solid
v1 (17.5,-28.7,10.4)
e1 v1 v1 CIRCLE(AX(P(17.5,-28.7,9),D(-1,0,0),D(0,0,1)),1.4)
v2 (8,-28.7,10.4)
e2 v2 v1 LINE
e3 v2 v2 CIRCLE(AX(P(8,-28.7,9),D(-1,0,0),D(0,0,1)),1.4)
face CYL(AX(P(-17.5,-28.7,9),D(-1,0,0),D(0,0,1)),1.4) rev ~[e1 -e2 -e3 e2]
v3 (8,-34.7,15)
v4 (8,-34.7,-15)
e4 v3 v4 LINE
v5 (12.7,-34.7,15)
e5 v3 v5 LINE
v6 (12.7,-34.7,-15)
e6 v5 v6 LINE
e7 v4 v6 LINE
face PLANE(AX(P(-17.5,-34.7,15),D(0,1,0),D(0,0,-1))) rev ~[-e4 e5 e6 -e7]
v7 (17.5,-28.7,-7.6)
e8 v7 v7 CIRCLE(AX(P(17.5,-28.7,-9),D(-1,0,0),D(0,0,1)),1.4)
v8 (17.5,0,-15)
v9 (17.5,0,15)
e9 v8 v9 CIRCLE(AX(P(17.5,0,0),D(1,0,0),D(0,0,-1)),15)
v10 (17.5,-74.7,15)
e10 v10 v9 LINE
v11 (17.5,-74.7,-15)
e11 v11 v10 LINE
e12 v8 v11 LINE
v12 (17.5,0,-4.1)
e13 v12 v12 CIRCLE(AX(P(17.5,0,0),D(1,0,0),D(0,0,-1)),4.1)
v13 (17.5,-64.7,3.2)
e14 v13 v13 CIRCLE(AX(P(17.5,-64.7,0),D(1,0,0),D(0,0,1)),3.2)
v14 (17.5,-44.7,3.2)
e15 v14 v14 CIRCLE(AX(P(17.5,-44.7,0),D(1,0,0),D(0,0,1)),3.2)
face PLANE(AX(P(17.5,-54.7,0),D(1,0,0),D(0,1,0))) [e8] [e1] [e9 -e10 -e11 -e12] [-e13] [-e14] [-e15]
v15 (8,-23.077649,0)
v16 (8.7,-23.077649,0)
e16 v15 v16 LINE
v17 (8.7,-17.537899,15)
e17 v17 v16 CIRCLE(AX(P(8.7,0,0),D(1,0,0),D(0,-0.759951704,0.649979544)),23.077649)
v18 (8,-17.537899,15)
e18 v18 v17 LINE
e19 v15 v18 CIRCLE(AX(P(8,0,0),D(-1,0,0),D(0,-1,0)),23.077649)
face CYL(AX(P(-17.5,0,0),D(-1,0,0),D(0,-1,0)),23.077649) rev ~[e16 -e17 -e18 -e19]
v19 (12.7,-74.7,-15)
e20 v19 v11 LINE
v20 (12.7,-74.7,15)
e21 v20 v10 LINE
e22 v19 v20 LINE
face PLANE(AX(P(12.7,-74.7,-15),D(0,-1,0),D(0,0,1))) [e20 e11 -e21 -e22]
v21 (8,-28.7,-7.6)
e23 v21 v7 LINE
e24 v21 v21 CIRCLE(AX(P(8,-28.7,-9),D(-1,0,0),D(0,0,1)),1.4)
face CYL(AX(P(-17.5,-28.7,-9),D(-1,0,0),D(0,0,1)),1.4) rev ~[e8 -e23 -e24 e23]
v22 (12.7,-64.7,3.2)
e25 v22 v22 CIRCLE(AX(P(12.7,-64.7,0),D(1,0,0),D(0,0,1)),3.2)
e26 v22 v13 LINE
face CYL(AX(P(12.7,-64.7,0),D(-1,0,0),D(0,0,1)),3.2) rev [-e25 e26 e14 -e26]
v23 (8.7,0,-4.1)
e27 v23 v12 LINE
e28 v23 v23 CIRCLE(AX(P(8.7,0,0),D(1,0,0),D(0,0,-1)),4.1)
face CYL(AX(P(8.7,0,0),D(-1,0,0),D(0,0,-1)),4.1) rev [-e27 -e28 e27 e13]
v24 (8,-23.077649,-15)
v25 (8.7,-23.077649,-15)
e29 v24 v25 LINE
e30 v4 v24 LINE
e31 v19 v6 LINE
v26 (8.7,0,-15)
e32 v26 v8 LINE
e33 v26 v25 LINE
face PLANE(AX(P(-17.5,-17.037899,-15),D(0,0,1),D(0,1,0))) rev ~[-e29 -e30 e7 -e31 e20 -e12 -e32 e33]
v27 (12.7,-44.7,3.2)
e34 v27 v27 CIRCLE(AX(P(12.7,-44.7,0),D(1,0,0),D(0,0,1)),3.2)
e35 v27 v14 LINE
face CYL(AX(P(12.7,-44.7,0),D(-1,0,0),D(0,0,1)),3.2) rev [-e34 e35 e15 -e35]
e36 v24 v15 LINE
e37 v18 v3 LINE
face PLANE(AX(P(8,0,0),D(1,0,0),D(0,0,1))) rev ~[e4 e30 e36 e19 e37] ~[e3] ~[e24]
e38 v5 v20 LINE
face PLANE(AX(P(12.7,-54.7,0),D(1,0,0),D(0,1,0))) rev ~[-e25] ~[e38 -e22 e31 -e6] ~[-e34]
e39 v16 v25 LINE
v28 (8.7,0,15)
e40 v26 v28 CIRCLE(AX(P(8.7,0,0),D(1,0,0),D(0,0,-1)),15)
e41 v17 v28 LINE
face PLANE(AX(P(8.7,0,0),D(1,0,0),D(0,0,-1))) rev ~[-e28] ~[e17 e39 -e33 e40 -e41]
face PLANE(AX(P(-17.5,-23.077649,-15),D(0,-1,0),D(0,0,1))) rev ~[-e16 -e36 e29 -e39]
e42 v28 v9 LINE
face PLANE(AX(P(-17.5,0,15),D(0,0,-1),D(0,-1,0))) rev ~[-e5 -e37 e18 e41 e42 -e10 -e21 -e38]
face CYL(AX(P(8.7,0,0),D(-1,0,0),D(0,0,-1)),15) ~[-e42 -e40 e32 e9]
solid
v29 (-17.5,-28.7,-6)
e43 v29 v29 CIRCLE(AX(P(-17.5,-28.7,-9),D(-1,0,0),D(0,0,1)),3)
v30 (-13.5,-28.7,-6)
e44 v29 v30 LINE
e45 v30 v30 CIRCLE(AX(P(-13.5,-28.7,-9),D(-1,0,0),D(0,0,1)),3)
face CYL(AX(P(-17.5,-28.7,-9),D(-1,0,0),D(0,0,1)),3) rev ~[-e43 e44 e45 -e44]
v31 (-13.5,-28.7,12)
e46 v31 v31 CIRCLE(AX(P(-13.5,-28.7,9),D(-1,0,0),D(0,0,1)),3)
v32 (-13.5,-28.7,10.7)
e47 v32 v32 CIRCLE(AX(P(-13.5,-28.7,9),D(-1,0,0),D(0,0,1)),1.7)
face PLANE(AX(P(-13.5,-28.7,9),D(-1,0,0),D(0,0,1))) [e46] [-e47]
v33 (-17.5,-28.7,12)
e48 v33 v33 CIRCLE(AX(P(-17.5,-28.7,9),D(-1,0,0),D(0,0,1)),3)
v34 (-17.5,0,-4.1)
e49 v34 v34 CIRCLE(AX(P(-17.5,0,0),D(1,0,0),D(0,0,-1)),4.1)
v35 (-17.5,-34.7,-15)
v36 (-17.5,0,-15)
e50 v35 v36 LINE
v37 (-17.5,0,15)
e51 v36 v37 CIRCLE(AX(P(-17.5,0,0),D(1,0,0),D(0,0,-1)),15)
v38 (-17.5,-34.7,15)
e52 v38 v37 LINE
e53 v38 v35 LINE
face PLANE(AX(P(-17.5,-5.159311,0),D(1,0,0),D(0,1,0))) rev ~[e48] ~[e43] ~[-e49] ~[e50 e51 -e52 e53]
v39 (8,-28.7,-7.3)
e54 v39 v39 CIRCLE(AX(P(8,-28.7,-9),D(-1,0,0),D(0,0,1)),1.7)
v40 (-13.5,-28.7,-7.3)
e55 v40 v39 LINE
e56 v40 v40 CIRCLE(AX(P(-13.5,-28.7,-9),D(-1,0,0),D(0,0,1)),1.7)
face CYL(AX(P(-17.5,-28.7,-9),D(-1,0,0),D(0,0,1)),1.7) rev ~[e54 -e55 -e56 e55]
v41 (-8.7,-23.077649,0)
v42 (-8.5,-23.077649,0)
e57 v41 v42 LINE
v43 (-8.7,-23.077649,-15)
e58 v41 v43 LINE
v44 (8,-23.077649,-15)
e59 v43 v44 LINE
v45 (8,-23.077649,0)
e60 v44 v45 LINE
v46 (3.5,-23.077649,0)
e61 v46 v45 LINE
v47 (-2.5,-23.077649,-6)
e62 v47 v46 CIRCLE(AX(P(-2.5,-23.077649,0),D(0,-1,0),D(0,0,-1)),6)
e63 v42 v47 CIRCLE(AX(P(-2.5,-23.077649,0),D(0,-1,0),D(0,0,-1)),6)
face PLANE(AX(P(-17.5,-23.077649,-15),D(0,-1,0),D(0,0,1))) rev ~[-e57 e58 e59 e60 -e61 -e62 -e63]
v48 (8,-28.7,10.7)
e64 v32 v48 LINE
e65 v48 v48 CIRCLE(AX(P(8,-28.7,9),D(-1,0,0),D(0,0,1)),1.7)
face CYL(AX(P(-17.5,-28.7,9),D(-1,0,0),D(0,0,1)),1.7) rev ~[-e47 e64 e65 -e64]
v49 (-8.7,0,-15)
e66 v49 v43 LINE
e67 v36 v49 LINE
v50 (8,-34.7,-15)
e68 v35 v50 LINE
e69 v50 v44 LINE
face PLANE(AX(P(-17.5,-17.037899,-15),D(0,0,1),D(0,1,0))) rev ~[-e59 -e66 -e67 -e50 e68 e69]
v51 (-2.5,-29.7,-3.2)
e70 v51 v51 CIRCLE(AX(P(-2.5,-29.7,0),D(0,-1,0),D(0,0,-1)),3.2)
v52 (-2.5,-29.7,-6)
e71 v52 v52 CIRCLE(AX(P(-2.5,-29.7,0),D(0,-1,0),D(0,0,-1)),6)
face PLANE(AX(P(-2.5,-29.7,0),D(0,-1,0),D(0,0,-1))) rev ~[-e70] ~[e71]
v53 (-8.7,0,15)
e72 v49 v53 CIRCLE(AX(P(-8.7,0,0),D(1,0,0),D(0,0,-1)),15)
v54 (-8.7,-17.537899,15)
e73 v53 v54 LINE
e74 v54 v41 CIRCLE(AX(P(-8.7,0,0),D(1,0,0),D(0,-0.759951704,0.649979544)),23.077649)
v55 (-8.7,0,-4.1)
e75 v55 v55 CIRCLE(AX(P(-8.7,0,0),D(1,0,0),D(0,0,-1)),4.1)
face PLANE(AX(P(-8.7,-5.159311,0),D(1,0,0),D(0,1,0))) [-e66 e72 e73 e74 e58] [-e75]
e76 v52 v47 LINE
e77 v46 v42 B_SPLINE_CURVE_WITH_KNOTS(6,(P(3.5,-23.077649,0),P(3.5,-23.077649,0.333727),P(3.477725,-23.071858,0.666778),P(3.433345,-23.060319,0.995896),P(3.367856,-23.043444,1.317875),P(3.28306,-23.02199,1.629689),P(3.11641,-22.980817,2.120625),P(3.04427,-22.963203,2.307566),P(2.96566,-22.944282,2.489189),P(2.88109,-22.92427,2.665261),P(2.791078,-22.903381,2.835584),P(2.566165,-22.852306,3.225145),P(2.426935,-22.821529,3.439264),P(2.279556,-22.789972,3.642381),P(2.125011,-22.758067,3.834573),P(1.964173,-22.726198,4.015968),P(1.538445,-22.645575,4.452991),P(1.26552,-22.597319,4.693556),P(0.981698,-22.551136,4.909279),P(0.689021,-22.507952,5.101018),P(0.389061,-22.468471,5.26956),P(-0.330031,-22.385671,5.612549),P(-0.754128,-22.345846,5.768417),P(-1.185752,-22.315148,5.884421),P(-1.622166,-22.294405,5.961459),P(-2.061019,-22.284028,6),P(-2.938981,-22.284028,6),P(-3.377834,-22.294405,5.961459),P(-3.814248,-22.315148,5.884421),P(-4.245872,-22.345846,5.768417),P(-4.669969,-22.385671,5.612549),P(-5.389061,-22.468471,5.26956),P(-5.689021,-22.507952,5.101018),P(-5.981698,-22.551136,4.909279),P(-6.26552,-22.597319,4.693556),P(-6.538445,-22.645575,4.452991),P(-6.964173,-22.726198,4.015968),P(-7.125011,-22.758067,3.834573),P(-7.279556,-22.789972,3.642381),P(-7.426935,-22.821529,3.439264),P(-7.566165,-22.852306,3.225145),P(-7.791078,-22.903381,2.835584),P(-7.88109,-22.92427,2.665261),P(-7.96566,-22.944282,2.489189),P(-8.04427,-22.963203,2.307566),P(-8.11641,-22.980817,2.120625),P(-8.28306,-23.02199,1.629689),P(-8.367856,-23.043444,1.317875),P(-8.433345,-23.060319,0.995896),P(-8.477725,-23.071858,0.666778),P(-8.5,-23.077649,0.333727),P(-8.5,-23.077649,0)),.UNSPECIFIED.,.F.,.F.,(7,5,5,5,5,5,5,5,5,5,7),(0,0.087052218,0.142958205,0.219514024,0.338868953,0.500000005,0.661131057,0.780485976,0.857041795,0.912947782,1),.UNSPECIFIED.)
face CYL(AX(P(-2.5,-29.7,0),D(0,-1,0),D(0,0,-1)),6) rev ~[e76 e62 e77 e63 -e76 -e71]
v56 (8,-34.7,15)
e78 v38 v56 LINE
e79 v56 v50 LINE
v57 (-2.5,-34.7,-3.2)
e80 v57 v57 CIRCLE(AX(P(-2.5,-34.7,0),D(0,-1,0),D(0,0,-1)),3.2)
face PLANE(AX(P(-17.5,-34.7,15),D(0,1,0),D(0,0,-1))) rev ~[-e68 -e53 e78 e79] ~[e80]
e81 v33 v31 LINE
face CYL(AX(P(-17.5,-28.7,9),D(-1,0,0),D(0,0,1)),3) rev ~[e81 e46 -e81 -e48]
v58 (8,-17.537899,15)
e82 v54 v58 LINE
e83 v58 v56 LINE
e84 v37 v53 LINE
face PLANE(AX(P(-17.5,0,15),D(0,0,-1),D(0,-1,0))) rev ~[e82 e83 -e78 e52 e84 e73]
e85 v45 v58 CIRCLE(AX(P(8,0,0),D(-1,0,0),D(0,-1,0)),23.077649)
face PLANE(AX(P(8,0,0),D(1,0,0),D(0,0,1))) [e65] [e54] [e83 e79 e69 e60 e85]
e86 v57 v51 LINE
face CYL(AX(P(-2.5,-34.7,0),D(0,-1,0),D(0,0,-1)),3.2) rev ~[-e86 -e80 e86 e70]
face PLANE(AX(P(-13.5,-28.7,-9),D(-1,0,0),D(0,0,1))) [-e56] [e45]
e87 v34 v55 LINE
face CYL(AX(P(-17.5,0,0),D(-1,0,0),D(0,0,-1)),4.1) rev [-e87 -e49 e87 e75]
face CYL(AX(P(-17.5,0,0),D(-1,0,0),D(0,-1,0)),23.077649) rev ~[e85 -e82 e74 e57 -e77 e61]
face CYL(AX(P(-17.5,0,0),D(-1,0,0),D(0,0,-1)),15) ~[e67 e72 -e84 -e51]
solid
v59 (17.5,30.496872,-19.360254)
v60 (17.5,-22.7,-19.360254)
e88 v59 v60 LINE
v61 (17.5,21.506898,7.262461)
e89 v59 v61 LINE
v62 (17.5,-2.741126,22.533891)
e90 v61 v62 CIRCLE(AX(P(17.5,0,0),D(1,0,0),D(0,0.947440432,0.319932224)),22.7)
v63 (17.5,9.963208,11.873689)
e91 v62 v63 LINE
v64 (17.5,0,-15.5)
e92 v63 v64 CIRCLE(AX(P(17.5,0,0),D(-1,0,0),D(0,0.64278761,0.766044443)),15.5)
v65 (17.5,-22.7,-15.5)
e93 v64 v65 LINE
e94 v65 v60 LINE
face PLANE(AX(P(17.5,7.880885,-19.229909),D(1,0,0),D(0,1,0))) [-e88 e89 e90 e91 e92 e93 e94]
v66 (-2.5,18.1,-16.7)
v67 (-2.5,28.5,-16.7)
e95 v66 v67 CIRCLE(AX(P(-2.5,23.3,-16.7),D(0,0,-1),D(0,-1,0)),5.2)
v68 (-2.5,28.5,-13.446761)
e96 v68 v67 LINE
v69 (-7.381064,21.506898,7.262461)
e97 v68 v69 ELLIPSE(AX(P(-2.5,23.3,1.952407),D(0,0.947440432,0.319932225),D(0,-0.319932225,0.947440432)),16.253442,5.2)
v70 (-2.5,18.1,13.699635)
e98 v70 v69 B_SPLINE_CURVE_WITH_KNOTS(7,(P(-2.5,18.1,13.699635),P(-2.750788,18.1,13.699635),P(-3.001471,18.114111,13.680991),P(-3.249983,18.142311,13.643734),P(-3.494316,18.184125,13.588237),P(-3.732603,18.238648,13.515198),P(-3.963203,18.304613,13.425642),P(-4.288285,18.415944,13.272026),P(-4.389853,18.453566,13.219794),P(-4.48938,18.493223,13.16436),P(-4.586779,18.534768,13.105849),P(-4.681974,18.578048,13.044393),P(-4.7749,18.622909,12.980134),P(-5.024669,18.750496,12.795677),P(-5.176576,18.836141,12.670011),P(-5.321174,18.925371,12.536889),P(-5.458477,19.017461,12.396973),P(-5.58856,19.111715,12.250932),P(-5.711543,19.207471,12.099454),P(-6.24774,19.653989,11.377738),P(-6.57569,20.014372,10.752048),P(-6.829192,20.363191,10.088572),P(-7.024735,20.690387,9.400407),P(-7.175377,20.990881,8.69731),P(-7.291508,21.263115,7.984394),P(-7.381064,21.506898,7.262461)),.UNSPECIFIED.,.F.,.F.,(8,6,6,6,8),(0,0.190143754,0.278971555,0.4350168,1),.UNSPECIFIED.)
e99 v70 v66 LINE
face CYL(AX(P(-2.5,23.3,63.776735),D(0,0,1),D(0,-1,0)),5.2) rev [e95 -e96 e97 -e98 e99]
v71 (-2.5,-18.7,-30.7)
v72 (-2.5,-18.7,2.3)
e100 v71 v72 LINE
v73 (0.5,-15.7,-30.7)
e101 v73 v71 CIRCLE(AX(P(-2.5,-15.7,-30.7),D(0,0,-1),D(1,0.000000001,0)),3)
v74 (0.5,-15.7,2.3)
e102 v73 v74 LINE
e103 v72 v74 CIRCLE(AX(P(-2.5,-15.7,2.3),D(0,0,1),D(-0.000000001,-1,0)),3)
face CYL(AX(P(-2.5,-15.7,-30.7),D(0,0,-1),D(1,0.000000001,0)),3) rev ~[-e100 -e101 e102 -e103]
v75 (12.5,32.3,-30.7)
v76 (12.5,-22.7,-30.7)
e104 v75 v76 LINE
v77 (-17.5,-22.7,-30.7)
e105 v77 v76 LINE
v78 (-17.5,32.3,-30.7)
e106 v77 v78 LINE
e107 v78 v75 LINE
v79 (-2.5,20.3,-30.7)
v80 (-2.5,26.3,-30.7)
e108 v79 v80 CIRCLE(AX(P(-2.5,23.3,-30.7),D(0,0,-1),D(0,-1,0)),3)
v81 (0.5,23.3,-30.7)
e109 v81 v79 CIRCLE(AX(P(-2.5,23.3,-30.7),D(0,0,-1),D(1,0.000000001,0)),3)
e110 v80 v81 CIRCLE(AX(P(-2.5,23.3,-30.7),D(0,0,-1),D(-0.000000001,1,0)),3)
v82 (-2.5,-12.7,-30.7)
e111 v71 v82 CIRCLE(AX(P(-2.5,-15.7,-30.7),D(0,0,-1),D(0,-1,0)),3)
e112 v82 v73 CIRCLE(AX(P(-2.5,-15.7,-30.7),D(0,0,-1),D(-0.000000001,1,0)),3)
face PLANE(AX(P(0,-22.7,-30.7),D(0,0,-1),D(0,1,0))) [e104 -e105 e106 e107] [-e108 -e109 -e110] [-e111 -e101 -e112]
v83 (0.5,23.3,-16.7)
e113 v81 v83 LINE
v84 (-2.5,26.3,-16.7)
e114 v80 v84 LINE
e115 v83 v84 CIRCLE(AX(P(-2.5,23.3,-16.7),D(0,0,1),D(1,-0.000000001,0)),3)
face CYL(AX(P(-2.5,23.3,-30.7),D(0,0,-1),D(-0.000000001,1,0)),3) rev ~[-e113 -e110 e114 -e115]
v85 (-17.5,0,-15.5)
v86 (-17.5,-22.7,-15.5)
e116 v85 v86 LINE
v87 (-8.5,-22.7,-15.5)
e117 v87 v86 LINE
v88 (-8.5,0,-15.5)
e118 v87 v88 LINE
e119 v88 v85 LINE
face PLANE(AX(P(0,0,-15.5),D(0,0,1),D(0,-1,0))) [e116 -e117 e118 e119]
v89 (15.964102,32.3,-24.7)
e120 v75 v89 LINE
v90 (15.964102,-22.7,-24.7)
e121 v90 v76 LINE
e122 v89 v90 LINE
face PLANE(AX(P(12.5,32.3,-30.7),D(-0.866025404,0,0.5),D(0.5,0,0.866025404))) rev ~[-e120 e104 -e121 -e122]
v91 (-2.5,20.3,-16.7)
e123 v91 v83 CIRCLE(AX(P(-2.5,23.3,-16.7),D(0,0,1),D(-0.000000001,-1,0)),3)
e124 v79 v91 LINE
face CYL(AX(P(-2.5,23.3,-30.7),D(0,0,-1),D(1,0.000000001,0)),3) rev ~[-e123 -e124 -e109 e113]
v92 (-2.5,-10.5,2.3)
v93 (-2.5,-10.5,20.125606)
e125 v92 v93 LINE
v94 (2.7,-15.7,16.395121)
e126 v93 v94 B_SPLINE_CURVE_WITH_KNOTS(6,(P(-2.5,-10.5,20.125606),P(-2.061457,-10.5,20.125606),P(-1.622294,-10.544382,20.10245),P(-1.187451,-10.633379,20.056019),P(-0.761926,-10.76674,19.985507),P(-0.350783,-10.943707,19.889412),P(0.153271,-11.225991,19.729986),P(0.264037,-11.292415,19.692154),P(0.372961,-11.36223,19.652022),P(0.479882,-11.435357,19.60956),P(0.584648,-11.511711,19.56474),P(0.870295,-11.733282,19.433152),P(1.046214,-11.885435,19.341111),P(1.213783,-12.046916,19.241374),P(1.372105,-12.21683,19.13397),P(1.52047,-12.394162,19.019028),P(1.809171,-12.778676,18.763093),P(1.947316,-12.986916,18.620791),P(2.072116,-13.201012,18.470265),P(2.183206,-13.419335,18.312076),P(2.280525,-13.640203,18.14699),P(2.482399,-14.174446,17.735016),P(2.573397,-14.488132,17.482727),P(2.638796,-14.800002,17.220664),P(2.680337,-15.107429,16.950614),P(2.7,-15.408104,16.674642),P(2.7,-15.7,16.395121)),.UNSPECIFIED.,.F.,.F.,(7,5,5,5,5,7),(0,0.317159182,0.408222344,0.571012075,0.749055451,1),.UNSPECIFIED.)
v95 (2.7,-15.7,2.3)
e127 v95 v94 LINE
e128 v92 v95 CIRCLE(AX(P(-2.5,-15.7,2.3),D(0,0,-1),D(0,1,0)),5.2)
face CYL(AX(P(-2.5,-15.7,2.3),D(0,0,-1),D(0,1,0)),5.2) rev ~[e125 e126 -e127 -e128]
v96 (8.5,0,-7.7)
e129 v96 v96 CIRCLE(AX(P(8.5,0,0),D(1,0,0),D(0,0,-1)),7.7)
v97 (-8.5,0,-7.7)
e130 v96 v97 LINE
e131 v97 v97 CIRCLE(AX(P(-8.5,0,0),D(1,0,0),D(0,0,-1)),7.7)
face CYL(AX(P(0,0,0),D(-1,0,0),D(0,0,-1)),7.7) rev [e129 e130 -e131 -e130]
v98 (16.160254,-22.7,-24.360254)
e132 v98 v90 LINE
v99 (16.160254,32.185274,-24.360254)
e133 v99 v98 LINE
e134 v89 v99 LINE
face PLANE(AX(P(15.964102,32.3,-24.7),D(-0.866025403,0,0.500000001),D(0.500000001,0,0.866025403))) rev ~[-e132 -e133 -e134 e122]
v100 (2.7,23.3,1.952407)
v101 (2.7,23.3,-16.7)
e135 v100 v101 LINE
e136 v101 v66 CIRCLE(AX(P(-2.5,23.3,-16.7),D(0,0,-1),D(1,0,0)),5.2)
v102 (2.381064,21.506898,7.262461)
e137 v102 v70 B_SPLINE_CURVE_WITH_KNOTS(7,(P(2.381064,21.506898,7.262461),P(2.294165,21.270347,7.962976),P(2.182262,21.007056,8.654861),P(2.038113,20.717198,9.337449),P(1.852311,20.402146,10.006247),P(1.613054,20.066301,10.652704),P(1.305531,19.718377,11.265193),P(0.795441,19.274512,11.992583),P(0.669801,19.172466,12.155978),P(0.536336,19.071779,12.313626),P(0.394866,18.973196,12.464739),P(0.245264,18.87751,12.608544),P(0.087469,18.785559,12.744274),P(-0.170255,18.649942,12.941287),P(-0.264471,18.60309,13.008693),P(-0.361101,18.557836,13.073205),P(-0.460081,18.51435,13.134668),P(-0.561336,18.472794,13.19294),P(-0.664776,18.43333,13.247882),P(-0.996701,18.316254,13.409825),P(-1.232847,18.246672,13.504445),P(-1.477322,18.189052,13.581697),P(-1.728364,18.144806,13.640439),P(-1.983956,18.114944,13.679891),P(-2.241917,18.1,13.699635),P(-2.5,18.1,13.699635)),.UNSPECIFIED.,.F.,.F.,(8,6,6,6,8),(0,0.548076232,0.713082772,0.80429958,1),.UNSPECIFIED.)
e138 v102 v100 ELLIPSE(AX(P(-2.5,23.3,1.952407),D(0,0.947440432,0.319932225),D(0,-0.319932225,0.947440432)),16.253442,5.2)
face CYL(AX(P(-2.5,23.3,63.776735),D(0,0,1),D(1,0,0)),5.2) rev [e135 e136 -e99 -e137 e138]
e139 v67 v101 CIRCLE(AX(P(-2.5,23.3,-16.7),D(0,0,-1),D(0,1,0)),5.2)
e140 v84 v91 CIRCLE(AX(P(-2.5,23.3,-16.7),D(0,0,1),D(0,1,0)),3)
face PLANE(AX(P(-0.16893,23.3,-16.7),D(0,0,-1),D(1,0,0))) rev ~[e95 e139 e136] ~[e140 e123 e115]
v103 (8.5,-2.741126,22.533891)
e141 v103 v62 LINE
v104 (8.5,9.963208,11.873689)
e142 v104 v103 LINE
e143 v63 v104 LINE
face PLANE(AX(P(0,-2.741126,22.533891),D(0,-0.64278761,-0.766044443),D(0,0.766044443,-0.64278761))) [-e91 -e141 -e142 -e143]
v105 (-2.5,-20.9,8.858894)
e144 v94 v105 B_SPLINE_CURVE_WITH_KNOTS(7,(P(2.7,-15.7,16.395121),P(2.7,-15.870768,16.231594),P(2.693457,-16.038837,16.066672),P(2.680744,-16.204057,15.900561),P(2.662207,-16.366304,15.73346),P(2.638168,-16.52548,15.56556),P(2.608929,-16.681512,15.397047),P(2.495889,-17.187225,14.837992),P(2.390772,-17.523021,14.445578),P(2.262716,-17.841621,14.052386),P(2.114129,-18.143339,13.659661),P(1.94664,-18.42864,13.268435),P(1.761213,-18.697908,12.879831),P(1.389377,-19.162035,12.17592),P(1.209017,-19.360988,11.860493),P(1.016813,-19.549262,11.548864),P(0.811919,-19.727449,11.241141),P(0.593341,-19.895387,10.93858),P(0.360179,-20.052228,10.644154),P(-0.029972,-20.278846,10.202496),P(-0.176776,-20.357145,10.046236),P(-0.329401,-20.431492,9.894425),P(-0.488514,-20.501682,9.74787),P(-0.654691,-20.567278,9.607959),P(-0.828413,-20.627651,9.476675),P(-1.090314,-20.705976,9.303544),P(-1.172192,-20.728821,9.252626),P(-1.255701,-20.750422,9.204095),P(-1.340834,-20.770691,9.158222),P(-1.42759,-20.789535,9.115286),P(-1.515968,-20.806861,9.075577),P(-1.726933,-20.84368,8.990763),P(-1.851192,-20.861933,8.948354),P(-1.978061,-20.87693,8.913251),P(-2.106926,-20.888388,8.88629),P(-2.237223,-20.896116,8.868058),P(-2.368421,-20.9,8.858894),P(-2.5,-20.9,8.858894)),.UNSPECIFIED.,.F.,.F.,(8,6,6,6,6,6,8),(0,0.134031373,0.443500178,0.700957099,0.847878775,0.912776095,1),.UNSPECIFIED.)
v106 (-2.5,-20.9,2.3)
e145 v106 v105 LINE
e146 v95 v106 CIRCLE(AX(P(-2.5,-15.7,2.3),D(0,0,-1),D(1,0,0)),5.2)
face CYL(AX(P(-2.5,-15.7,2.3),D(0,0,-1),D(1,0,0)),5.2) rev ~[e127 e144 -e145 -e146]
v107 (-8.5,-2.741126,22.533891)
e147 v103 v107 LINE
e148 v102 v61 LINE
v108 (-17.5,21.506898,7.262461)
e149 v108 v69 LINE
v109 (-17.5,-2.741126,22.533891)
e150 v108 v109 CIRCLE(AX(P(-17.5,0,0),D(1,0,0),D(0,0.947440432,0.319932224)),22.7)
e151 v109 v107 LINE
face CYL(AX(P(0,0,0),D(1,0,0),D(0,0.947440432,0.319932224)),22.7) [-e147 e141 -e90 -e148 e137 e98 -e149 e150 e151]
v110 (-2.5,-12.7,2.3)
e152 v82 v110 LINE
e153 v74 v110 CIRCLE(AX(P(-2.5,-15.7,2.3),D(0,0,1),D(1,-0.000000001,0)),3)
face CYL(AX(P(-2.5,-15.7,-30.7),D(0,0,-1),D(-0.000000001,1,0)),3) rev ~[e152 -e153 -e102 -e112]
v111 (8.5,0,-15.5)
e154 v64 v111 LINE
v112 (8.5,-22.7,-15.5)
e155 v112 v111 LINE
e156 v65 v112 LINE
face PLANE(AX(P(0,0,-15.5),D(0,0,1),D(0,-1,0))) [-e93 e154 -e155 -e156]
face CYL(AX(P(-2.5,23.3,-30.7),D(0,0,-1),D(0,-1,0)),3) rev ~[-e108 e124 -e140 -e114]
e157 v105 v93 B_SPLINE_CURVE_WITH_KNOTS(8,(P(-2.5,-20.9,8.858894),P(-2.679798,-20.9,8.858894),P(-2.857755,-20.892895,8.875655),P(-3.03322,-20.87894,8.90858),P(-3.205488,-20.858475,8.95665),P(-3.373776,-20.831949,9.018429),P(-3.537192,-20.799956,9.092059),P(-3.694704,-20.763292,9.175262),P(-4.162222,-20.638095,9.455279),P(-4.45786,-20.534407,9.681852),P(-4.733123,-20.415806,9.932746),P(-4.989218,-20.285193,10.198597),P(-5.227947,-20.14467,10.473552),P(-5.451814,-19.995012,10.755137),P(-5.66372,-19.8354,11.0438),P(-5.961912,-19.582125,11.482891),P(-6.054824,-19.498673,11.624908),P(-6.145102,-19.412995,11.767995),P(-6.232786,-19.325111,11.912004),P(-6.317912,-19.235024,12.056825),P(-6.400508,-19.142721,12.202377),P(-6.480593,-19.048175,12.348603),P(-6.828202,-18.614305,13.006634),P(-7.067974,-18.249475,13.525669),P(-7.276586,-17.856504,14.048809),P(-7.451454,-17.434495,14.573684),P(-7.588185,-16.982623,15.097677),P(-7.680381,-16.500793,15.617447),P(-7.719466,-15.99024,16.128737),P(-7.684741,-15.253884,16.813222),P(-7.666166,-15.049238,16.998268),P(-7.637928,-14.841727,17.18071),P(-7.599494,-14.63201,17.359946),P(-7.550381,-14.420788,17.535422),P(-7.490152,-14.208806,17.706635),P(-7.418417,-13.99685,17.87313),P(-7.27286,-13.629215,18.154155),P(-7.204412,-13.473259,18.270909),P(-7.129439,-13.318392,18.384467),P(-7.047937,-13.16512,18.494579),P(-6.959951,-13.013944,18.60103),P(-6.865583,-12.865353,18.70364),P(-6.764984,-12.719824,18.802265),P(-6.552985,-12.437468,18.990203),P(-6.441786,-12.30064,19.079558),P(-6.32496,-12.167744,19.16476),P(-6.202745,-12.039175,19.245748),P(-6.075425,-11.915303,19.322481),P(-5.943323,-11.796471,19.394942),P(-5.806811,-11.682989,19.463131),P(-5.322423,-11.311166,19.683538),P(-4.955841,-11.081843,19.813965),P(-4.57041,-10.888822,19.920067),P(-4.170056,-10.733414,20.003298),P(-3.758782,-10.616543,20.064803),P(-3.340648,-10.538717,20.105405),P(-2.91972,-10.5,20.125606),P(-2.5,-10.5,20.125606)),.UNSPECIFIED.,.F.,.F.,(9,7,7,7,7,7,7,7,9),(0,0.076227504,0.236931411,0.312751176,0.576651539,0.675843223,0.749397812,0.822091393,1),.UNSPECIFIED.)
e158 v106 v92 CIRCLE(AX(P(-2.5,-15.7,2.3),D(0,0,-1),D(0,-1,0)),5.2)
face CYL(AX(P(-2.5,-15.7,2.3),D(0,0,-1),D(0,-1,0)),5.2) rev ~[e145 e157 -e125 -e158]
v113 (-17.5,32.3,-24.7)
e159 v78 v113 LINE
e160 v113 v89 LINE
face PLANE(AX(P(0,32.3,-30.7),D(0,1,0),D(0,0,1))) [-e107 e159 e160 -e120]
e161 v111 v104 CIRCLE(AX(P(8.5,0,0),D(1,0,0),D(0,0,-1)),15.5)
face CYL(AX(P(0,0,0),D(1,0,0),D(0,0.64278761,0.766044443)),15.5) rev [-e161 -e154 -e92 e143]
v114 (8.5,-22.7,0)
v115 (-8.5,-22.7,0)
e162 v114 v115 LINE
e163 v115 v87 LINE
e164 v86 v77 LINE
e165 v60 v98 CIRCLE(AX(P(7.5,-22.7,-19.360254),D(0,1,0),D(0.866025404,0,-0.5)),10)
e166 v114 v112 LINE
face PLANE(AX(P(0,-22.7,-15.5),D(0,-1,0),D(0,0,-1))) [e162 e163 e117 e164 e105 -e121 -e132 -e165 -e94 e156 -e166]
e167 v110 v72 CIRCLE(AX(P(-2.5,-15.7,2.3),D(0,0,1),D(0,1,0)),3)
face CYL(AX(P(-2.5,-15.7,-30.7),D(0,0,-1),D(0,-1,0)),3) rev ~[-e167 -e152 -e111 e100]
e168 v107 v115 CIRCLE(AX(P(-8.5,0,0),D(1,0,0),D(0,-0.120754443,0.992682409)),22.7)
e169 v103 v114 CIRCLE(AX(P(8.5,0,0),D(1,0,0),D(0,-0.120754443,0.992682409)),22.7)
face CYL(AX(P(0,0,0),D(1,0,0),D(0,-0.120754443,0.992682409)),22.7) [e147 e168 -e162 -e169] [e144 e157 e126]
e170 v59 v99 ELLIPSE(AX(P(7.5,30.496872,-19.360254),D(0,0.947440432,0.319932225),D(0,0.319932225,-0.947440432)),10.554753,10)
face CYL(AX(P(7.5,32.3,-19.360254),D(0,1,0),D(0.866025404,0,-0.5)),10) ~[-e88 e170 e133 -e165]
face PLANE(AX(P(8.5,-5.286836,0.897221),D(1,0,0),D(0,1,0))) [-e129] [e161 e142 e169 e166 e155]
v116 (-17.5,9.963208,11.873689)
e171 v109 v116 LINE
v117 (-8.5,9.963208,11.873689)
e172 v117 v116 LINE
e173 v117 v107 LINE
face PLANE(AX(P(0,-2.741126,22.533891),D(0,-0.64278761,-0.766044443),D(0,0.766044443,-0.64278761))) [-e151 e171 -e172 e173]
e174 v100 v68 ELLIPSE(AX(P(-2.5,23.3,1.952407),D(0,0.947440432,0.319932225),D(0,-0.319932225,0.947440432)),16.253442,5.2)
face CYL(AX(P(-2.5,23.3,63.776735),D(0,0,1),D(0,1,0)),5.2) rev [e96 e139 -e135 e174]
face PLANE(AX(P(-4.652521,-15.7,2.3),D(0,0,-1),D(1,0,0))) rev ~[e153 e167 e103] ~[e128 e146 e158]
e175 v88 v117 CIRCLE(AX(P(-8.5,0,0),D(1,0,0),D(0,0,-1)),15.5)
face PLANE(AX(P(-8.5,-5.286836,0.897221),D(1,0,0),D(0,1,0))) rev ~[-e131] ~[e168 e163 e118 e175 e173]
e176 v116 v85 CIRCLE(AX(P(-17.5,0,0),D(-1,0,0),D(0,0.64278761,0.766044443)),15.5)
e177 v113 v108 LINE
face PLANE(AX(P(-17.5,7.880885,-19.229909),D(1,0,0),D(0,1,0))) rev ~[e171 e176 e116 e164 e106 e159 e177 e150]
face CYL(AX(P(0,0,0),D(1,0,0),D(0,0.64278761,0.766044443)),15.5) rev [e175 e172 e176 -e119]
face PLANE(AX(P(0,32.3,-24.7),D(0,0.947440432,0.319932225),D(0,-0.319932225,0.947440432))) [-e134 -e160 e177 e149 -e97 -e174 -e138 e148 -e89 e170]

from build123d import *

# Parameters (mm, degrees)
SKETCH1_R               = 7.7
BOSS_EXTRUDE1_DEPTH     = 8.5
BOSS_EXTRUDE2_DEPTH     = 17.5
BOSS_EXTRUDE3_START     = 8.7
SKETCH1_5_R             = 7.7
SKETCH1_5_R_2           = 4.1
BOSS_EXTRUDE3_DEPTH     = 8.8
BOSS_EXTRUDE5_START     = 12.7
SKETCH1_8_W             = 40
SKETCH1_8_H             = 30
SKETCH1_8_R             = 3.2
BOSS_EXTRUDE5_DEPTH     = 4.8
BOSS_EXTRUDE6_START     = -17.5
BOSS_EXTRUDE6_DEPTH     = 30.2
BOSS_EXTRUDE7_START     = -17.5
SKETCH1_11_R            = 7.7
SKETCH1_11_R_2          = 4.1
BOSS_EXTRUDE7_DEPTH     = 8.8
SKETCH2_R               = 1.7
SKETCH2_R_2             = 1.4
CUT_EXTRUDE1_DEPTH      = 89.020338559
SKETCH2_4_R             = 3
SKETCH2_4_R_2           = 1.7
CUT_EXTRUDE2_DEPTH      = 4
SKETCH2_5_R             = 1.4
CUT_EXTRUDE3_DEPTH      = 89.020338559
SKETCH3_R               = 3.2
CUT_EXTRUDE4_DEPTH      = 76.747871257
CUT_EXTRUDE5_START      = -5
SKETCH3_3_R             = 6
SKETCH3_3_R_2           = 3.2
CUT_EXTRUDE5_DEPTH      = 71.747871257
CUT_EXTRUDE6_DEPTH      = 113.684249121
CUT_EXTRUDE7_DEPTH      = 94.476735073
CUT_EXTRUDE8_DEPTH      = 1
CUT_EXTRUDE8_DEPTH_BACK = 79.476735149
CUT_EXTRUDE8_START      = -15
CUT_EXTRUDE12_START     = -33
CUT_EXTRUDE12_DEPTH     = 61.476735149


with BuildPart() as part:
    # Sketch1 → Boss-Extrude1 (new, symmetric)
    with BuildSketch(Plane.YZ):
        with BuildLine():
            Line((-22.7, -15.5), (0, -15.5))
            ThreePointArc((0, -15.5), (14.565235622, -5.301312222), (9.96320795, 11.873688868))
            Line((9.96320795, 11.873688868), (-2.741125853, 22.533890677))
            ThreePointArc((-2.741125853, 22.533890677), (-16.992844919, 15.051020615), (-22.7, 0))
            Line((-22.7, 0), (-22.7, -15.5))
        make_face()
        with Locations(Location((0, 0, 0), (0, 0, 270))):
            Circle(SKETCH1_R, mode=Mode.SUBTRACT)
    extrude(amount=BOSS_EXTRUDE1_DEPTH, both=True)

    # Sketch1<3> → Boss-Extrude2 (add, symmetric)
    with BuildSketch(Plane.YZ):
        with BuildLine():
            Line((-16.584329953, -15.5), (-22.7, -15.5))
            Line((-22.7, -15.5), (-22.7, -30.7))
            Line((-22.7, -30.7), (32.3, -30.7))
            Line((32.3, -30.7), (32.3, -24.7))
            Line((32.3, -24.7), (21.506897801, 7.262461497))
            ThreePointArc((21.506897801, 7.262461497), (22.399738615, 3.679906244), (22.7, 0))
            ThreePointArc((22.7, 0), (8.331437753, -21.115803204), (-16.584329953, -15.5))
        make_face()
        with BuildLine():
            Line((0, -15.5), (-16.584329953, -15.5))
            ThreePointArc((-16.584329953, -15.5), (8.331437753, -21.115803204), (22.7, 0))
            ThreePointArc((22.7, 0), (22.399738615, 3.679906244), (21.506897801, 7.262461497))
            ThreePointArc((21.506897801, 7.262461497), (12.097218131, 19.208001289), (-2.741125853, 22.533890677))
            Line((-2.741125853, 22.533890677), (9.96320795, 11.873688868))
            ThreePointArc((9.96320795, 11.873688868), (14.565235622, -5.301312222), (0, -15.5))
        make_face()
    extrude(amount=BOSS_EXTRUDE2_DEPTH, both=True)

    # Sketch6 → Cut-Extrude6 (cut, through all)
    with BuildSketch(Plane(origin=(0, 32.3, 0), x_dir=(-1, 0, 0), z_dir=(0, 1, 0))):
        Polygon((-15.964101615, -24.7), (-17.5, -24.7), (-17.5, -30.7), (-12.5, -30.7), align=None)
        with BuildLine():
            ThreePointArc((-16.160254038, -24.360254038), (-17.159258263, -21.948444489), (-17.5, -19.360254038))
            Line((-17.5, -19.360254038), (-17.5, -24.7))
            Line((-17.5, -24.7), (-15.964101615, -24.7))
            Line((-15.964101615, -24.7), (-16.160254038, -24.360254038))
        make_face()
    extrude(amount=-CUT_EXTRUDE6_DEPTH, mode=Mode.SUBTRACT)

    # Sketch7 → Cut-Extrude7 (cut, through all)
    with BuildSketch(Plane(origin=(0, 0, -30.7), x_dir=(1, 0, 0), z_dir=(0, 0, -1))):
        with BuildLine():
            ThreePointArc((-2.5, 18.7), (-5.5, 15.7), (-2.5, 12.7))
            Line((-2.5, 12.7), (-2.5, 18.7))
        make_face()
        with BuildLine():
            Line((-2.5, 18.7), (-2.5, 12.7))
            ThreePointArc((-2.5, 12.7), (-0.378679656, 13.578679656), (0.5, 15.7))
            ThreePointArc((0.5, 15.7), (-0.378679656, 17.821320344), (-2.5, 18.7))
        make_face()
        with BuildLine():
            ThreePointArc((0.5, -23.3), (-0.378679656, -21.178679656), (-2.5, -20.3))
            Line((-2.5, -20.3), (-2.5, -26.3))
            ThreePointArc((-2.5, -26.3), (-0.378679656, -25.421320344), (0.5, -23.3))
        make_face()
        with BuildLine():
            Line((-2.5, -26.3), (-2.5, -20.3))
            ThreePointArc((-2.5, -20.3), (-5.5, -23.3), (-2.5, -26.3))
        make_face()
    extrude(amount=-CUT_EXTRUDE7_DEPTH, mode=Mode.SUBTRACT)

    # Sketch7<3> → Cut-Extrude8 (cut, two sides: drawn at the far end of the back side and taken through both)
    with BuildSketch(Plane(origin=(0, 0, -30.7), x_dir=(1, 0, 0), z_dir=(0, 0, -1)).offset(CUT_EXTRUDE8_START - CUT_EXTRUDE8_DEPTH_BACK)):
        with BuildLine():
            ThreePointArc((2.7, -23.3), (1.176955262, -19.623044738), (-2.5, -18.1))
            Line((-2.5, -18.1), (-2.5, -20.3))
            ThreePointArc((-2.5, -20.3), (-0.378679656, -21.178679656), (0.5, -23.3))
            ThreePointArc((0.5, -23.3), (-0.378679656, -25.421320344), (-2.5, -26.3))
            Line((-2.5, -26.3), (-2.5, -28.5))
            ThreePointArc((-2.5, -28.5), (1.176955262, -26.976955262), (2.7, -23.3))
        make_face()
        with BuildLine():
            Line((-2.5, -20.3), (-2.5, -18.1))
            ThreePointArc((-2.5, -18.1), (-7.7, -23.3), (-2.5, -28.5))
            Line((-2.5, -28.5), (-2.5, -26.3))
            ThreePointArc((-2.5, -26.3), (-5.5, -23.3), (-2.5, -20.3))
        make_face()
    extrude(amount=CUT_EXTRUDE8_DEPTH + CUT_EXTRUDE8_DEPTH_BACK, mode=Mode.SUBTRACT)

    # Sketch7<5> → Cut-Extrude12 (cut, through all)
    with BuildSketch(Plane(origin=(0, 0, -30.7), x_dir=(1, 0, 0), z_dir=(0, 0, -1)).offset(CUT_EXTRUDE12_START)):
        with BuildLine():
            ThreePointArc((-2.5, 20.9), (-7.7, 15.7), (-2.5, 10.5))
            Line((-2.5, 10.5), (-2.5, 12.7))
            ThreePointArc((-2.5, 12.7), (-5.5, 15.7), (-2.5, 18.7))
            Line((-2.5, 18.7), (-2.5, 20.9))
        make_face()
        with BuildLine():
            Line((-2.5, 12.7), (-2.5, 10.5))
            ThreePointArc((-2.5, 10.5), (1.176955262, 12.023044738), (2.7, 15.7))
            ThreePointArc((2.7, 15.7), (1.176955262, 19.376955262), (-2.5, 20.9))
            Line((-2.5, 20.9), (-2.5, 18.7))
            ThreePointArc((-2.5, 18.7), (-0.378679656, 17.821320344), (0.5, 15.7))
            ThreePointArc((0.5, 15.7), (-0.378679656, 13.578679656), (-2.5, 12.7))
        make_face()
    extrude(amount=-CUT_EXTRUDE12_DEPTH, mode=Mode.SUBTRACT)


with BuildPart() as body_2:
    # Sketch1<5> → Boss-Extrude3 (new body)
    # profile 1 of 6: a face of its own
    with BuildSketch(Plane.YZ.offset(BOSS_EXTRUDE3_START)):
        with BuildLine():
            ThreePointArc((-22.7, 0), (-21.237352775, -8.016535856), (-17.037898931, -15))
            Line((-17.037898932, -15), (0, -15))
            ThreePointArc((0, -15), (15, 0), (0, 15))
            Line((0, 15), (-17.037898932, 15))
            ThreePointArc((-17.037898932, 15), (-21.237352775, 8.016535856), (-22.7, 0))
        make_face()
        with Locations(Location((0, 0, 0), (0, 0, 270))):
            Circle(SKETCH1_5_R, mode=Mode.SUBTRACT)
    # profile 2 of 6: a face of its own
    with BuildSketch(Plane.YZ.offset(BOSS_EXTRUDE3_START)):
        with BuildLine():
            ThreePointArc((-23.077649337, 0), (-22.983043085, -2.08749359), (-22.7, -4.157871923))
            Line((-22.7, -4.157871923), (-22.7, 0))
            ThreePointArc((-22.7, 0), (-21.237352775, 8.016535856), (-17.037898932, 15))
            Line((-17.037898932, 15), (-17.537898931, 15))
            ThreePointArc((-17.537898931, 15), (-21.648456996, 7.995136562), (-23.077649337, 0))
        make_face()
    # profile 3 of 6: a face of its own
    with BuildSketch(Plane.YZ.offset(BOSS_EXTRUDE3_START)):
        with BuildLine():
            Line((-22.7, -4.157871923), (-22.7, -15))
            Line((-22.7, -15), (-17.537898931, -15))
            ThreePointArc((-17.537898931, -15), (-20.836507935, -9.920576395), (-22.7, -4.157871923))
        make_face()
    # profile 4 of 6: a face of its own
    with BuildSketch(Plane.YZ.offset(BOSS_EXTRUDE3_START)):
        with BuildLine():
            Line((-22.7, 0), (-22.7, -4.157871923))
            ThreePointArc((-22.7, -4.157871923), (-20.836507935, -9.920576395), (-17.537898931, -15))
            Line((-17.537898931, -15), (-17.037898932, -15))
            ThreePointArc((-17.037898931, -15), (-21.237352775, -8.016535856), (-22.7, 0))
        make_face()
    # profile 5 of 6: a face of its own
    with BuildSketch(Plane.YZ.offset(BOSS_EXTRUDE3_START)):
        with BuildLine():
            Line((-23.077649337, -15), (-22.7, -15))
            Line((-22.7, -15), (-22.7, -4.157871923))
            ThreePointArc((-22.7, -4.157871923), (-22.983043085, -2.08749359), (-23.077649337, 0))
            Line((-23.077649337, 0), (-23.077649337, -15))
        make_face()
    # profile 6 of 6: a face of its own
    with BuildSketch(Plane.YZ.offset(BOSS_EXTRUDE3_START)):
        with Locations(Location((0, 0, 0), (0, 0, 270))):
            Circle(SKETCH1_5_R)
        with Locations(Location((0, 0, 0), (0, 0, 270))):
            Circle(SKETCH1_5_R_2, mode=Mode.SUBTRACT)
    extrude(amount=BOSS_EXTRUDE3_DEPTH)

    # Sketch1<8> → Boss-Extrude5 (add)
    # profile 1 of 2: a face of its own
    with BuildSketch(Plane.YZ.offset(BOSS_EXTRUDE5_START)):
        with Locations((-54.7, 0)):
            Rectangle(SKETCH1_8_W, SKETCH1_8_H)
        with Locations(Location((-64.7, 0, 0), (0, 0, 90))):
            Circle(SKETCH1_8_R, mode=Mode.SUBTRACT)
        with Locations(Location((-44.7, 0, 0), (0, 0, 90))):
            Circle(SKETCH1_8_R, mode=Mode.SUBTRACT)
    # profile 2 of 2: a face of its own
    with BuildSketch(Plane.YZ.offset(BOSS_EXTRUDE5_START)):
        with BuildLine():
            Line((-34.7, -15), (-23.077649337, -15))
            Line((-23.077649337, -15), (-23.077649337, 0))
            ThreePointArc((-23.077649337, 0), (-21.648456996, 7.995136562), (-17.537898931, 15))
            Line((-17.537898931, 15), (-34.7, 15))
            Line((-34.7, 15), (-34.7, -15))
        make_face()
    extrude(amount=BOSS_EXTRUDE5_DEPTH)

    # Sketch1<9> → Boss-Extrude6 (add)
    with BuildSketch(Plane.YZ.offset(BOSS_EXTRUDE6_START)):
        with BuildLine():
            Line((-34.7, -15), (-23.077649337, -15))
            Line((-23.077649337, -15), (-23.077649337, 0))
            ThreePointArc((-23.077649337, 0), (-21.648456996, 7.995136562), (-17.537898931, 15))
            Line((-17.537898931, 15), (-34.7, 15))
            Line((-34.7, 15), (-34.7, -15))
        make_face()
    extrude(amount=BOSS_EXTRUDE6_DEPTH)

    # Sketch1<11> → Boss-Extrude7 (add)
    # profile 1 of 6: a face of its own
    with BuildSketch(Plane.YZ.offset(BOSS_EXTRUDE7_START)):
        with BuildLine():
            ThreePointArc((-22.7, 0), (-21.237352775, -8.016535856), (-17.037898931, -15))
            Line((-17.037898932, -15), (0, -15))
            ThreePointArc((0, -15), (15, 0), (0, 15))
            Line((0, 15), (-17.037898932, 15))
            ThreePointArc((-17.037898932, 15), (-21.237352775, 8.016535856), (-22.7, 0))
        make_face()
        with Locations(Location((0, 0, 0), (0, 0, 270))):
            Circle(SKETCH1_11_R, mode=Mode.SUBTRACT)
    # profile 2 of 6: a face of its own
    with BuildSketch(Plane.YZ.offset(BOSS_EXTRUDE7_START)):
        with BuildLine():
            Line((-22.7, -4.157871923), (-22.7, -15))
            Line((-22.7, -15), (-17.537898931, -15))
            ThreePointArc((-17.537898931, -15), (-20.836507935, -9.920576395), (-22.7, -4.157871923))
        make_face()
    # profile 3 of 6: a face of its own
    with BuildSketch(Plane.YZ.offset(BOSS_EXTRUDE7_START)):
        with BuildLine():
            Line((-22.7, 0), (-22.7, -4.157871923))
            ThreePointArc((-22.7, -4.157871923), (-20.836507935, -9.920576395), (-17.537898931, -15))
            Line((-17.537898931, -15), (-17.037898932, -15))
            ThreePointArc((-17.037898931, -15), (-21.237352775, -8.016535856), (-22.7, 0))
        make_face()
    # profile 4 of 6: a face of its own
    with BuildSketch(Plane.YZ.offset(BOSS_EXTRUDE7_START)):
        with BuildLine():
            Line((-23.077649337, -15), (-22.7, -15))
            Line((-22.7, -15), (-22.7, -4.157871923))
            ThreePointArc((-22.7, -4.157871923), (-22.983043085, -2.08749359), (-23.077649337, 0))
            Line((-23.077649337, 0), (-23.077649337, -15))
        make_face()
    # profile 5 of 6: a face of its own
    with BuildSketch(Plane.YZ.offset(BOSS_EXTRUDE7_START)):
        with BuildLine():
            ThreePointArc((-23.077649337, 0), (-22.983043085, -2.08749359), (-22.7, -4.157871923))
            Line((-22.7, -4.157871923), (-22.7, 0))
            ThreePointArc((-22.7, 0), (-21.237352775, 8.016535856), (-17.037898932, 15))
            Line((-17.037898932, 15), (-17.537898931, 15))
            ThreePointArc((-17.537898931, 15), (-21.648456996, 7.995136562), (-23.077649337, 0))
        make_face()
    # profile 6 of 6: a face of its own
    with BuildSketch(Plane.YZ.offset(BOSS_EXTRUDE7_START)):
        with Locations(Location((0, 0, 0), (0, 0, 270))):
            Circle(SKETCH1_11_R)
        with Locations(Location((0, 0, 0), (0, 0, 270))):
            Circle(SKETCH1_11_R_2, mode=Mode.SUBTRACT)
    extrude(amount=BOSS_EXTRUDE7_DEPTH)


with BuildPart() as body_3:
    # Split1: the piece on the far side of the plane
    add(body_2.part)
    split(bisect_by=Plane(origin=(8, 0, 0), x_dir=(0, 0, 1), z_dir=(1, 0, 0)), keep=Keep.BOTTOM)

    # Sketch2 → Cut-Extrude1 (cut, through all)
    with BuildSketch(Plane(origin=(-17.5, 0, 0), x_dir=(0, -1, 0), z_dir=(-1, 0, 0))):
        with Locations(Location((28.7, 9, 0), (0, 0, 90))):
            Circle(SKETCH2_R)
        with Locations(Location((28.7, -9, 0), (0, 0, 90))):
            Circle(SKETCH2_R)
        with Locations((28.7, 9)):
            Circle(SKETCH2_R_2)
        with Locations((28.7, -9)):
            Circle(SKETCH2_R_2)
    extrude(amount=-CUT_EXTRUDE1_DEPTH, mode=Mode.SUBTRACT)

    # Sketch2<4> → Cut-Extrude2 (cut)
    # profile 1 of 2: a face of its own
    with BuildSketch(Plane(origin=(-17.5, 0, 0), x_dir=(0, -1, 0), z_dir=(-1, 0, 0))):
        with Locations(Location((28.7, 9, 0), (0, 0, 90))):
            Circle(SKETCH2_4_R)
        with Locations(Location((28.7, 9, 0), (0, 0, 90))):
            Circle(SKETCH2_4_R_2, mode=Mode.SUBTRACT)
    # profile 2 of 2: a face of its own
    with BuildSketch(Plane(origin=(-17.5, 0, 0), x_dir=(0, -1, 0), z_dir=(-1, 0, 0))):
        with Locations(Location((28.7, -9, 0), (0, 0, 90))):
            Circle(SKETCH2_4_R)
        with Locations(Location((28.7, -9, 0), (0, 0, 90))):
            Circle(SKETCH2_4_R_2, mode=Mode.SUBTRACT)
    extrude(amount=-CUT_EXTRUDE2_DEPTH, mode=Mode.SUBTRACT)

    # Sketch3 → Cut-Extrude4 (cut, through all)
    with BuildSketch(Plane.XZ.offset(34.7)):
        with Locations(Location((-2.5, 0, 0), (0, 0, 270))):
            Circle(SKETCH3_R)
    extrude(amount=-CUT_EXTRUDE4_DEPTH, mode=Mode.SUBTRACT)

    # Sketch3<3> → Cut-Extrude5 (cut, through all)
    with BuildSketch(Plane.XZ.offset(34.7).offset(CUT_EXTRUDE5_START)):
        with Locations(Location((-2.5, 0, 0), (0, 0, 270))):
            Circle(SKETCH3_3_R)
        with Locations(Location((-2.5, 0, 0), (0, 0, 270))):
            Circle(SKETCH3_3_R_2, mode=Mode.SUBTRACT)
    extrude(amount=-CUT_EXTRUDE5_DEPTH, mode=Mode.SUBTRACT)


with BuildPart() as body_2_1:
    add(body_2.part)

    # Split1
    split(bisect_by=Plane(origin=(8, 0, 0), x_dir=(0, 0, 1), z_dir=(1, 0, 0)), keep=Keep.TOP)

    # Sketch2<5> → Cut-Extrude3 (cut, through all)
    with BuildSketch(Plane(origin=(-17.5, 0, 0), x_dir=(0, -1, 0), z_dir=(-1, 0, 0))):
        with Locations(Location((28.7, 9, 0), (0, 0, 90))):
            Circle(SKETCH2_5_R)
        with Locations(Location((28.7, -9, 0), (0, 0, 90))):
            Circle(SKETCH2_5_R)
    extrude(amount=-CUT_EXTRUDE3_DEPTH, mode=Mode.SUBTRACT)


solid = Compound([part.part, body_3.part, body_2_1.part])
